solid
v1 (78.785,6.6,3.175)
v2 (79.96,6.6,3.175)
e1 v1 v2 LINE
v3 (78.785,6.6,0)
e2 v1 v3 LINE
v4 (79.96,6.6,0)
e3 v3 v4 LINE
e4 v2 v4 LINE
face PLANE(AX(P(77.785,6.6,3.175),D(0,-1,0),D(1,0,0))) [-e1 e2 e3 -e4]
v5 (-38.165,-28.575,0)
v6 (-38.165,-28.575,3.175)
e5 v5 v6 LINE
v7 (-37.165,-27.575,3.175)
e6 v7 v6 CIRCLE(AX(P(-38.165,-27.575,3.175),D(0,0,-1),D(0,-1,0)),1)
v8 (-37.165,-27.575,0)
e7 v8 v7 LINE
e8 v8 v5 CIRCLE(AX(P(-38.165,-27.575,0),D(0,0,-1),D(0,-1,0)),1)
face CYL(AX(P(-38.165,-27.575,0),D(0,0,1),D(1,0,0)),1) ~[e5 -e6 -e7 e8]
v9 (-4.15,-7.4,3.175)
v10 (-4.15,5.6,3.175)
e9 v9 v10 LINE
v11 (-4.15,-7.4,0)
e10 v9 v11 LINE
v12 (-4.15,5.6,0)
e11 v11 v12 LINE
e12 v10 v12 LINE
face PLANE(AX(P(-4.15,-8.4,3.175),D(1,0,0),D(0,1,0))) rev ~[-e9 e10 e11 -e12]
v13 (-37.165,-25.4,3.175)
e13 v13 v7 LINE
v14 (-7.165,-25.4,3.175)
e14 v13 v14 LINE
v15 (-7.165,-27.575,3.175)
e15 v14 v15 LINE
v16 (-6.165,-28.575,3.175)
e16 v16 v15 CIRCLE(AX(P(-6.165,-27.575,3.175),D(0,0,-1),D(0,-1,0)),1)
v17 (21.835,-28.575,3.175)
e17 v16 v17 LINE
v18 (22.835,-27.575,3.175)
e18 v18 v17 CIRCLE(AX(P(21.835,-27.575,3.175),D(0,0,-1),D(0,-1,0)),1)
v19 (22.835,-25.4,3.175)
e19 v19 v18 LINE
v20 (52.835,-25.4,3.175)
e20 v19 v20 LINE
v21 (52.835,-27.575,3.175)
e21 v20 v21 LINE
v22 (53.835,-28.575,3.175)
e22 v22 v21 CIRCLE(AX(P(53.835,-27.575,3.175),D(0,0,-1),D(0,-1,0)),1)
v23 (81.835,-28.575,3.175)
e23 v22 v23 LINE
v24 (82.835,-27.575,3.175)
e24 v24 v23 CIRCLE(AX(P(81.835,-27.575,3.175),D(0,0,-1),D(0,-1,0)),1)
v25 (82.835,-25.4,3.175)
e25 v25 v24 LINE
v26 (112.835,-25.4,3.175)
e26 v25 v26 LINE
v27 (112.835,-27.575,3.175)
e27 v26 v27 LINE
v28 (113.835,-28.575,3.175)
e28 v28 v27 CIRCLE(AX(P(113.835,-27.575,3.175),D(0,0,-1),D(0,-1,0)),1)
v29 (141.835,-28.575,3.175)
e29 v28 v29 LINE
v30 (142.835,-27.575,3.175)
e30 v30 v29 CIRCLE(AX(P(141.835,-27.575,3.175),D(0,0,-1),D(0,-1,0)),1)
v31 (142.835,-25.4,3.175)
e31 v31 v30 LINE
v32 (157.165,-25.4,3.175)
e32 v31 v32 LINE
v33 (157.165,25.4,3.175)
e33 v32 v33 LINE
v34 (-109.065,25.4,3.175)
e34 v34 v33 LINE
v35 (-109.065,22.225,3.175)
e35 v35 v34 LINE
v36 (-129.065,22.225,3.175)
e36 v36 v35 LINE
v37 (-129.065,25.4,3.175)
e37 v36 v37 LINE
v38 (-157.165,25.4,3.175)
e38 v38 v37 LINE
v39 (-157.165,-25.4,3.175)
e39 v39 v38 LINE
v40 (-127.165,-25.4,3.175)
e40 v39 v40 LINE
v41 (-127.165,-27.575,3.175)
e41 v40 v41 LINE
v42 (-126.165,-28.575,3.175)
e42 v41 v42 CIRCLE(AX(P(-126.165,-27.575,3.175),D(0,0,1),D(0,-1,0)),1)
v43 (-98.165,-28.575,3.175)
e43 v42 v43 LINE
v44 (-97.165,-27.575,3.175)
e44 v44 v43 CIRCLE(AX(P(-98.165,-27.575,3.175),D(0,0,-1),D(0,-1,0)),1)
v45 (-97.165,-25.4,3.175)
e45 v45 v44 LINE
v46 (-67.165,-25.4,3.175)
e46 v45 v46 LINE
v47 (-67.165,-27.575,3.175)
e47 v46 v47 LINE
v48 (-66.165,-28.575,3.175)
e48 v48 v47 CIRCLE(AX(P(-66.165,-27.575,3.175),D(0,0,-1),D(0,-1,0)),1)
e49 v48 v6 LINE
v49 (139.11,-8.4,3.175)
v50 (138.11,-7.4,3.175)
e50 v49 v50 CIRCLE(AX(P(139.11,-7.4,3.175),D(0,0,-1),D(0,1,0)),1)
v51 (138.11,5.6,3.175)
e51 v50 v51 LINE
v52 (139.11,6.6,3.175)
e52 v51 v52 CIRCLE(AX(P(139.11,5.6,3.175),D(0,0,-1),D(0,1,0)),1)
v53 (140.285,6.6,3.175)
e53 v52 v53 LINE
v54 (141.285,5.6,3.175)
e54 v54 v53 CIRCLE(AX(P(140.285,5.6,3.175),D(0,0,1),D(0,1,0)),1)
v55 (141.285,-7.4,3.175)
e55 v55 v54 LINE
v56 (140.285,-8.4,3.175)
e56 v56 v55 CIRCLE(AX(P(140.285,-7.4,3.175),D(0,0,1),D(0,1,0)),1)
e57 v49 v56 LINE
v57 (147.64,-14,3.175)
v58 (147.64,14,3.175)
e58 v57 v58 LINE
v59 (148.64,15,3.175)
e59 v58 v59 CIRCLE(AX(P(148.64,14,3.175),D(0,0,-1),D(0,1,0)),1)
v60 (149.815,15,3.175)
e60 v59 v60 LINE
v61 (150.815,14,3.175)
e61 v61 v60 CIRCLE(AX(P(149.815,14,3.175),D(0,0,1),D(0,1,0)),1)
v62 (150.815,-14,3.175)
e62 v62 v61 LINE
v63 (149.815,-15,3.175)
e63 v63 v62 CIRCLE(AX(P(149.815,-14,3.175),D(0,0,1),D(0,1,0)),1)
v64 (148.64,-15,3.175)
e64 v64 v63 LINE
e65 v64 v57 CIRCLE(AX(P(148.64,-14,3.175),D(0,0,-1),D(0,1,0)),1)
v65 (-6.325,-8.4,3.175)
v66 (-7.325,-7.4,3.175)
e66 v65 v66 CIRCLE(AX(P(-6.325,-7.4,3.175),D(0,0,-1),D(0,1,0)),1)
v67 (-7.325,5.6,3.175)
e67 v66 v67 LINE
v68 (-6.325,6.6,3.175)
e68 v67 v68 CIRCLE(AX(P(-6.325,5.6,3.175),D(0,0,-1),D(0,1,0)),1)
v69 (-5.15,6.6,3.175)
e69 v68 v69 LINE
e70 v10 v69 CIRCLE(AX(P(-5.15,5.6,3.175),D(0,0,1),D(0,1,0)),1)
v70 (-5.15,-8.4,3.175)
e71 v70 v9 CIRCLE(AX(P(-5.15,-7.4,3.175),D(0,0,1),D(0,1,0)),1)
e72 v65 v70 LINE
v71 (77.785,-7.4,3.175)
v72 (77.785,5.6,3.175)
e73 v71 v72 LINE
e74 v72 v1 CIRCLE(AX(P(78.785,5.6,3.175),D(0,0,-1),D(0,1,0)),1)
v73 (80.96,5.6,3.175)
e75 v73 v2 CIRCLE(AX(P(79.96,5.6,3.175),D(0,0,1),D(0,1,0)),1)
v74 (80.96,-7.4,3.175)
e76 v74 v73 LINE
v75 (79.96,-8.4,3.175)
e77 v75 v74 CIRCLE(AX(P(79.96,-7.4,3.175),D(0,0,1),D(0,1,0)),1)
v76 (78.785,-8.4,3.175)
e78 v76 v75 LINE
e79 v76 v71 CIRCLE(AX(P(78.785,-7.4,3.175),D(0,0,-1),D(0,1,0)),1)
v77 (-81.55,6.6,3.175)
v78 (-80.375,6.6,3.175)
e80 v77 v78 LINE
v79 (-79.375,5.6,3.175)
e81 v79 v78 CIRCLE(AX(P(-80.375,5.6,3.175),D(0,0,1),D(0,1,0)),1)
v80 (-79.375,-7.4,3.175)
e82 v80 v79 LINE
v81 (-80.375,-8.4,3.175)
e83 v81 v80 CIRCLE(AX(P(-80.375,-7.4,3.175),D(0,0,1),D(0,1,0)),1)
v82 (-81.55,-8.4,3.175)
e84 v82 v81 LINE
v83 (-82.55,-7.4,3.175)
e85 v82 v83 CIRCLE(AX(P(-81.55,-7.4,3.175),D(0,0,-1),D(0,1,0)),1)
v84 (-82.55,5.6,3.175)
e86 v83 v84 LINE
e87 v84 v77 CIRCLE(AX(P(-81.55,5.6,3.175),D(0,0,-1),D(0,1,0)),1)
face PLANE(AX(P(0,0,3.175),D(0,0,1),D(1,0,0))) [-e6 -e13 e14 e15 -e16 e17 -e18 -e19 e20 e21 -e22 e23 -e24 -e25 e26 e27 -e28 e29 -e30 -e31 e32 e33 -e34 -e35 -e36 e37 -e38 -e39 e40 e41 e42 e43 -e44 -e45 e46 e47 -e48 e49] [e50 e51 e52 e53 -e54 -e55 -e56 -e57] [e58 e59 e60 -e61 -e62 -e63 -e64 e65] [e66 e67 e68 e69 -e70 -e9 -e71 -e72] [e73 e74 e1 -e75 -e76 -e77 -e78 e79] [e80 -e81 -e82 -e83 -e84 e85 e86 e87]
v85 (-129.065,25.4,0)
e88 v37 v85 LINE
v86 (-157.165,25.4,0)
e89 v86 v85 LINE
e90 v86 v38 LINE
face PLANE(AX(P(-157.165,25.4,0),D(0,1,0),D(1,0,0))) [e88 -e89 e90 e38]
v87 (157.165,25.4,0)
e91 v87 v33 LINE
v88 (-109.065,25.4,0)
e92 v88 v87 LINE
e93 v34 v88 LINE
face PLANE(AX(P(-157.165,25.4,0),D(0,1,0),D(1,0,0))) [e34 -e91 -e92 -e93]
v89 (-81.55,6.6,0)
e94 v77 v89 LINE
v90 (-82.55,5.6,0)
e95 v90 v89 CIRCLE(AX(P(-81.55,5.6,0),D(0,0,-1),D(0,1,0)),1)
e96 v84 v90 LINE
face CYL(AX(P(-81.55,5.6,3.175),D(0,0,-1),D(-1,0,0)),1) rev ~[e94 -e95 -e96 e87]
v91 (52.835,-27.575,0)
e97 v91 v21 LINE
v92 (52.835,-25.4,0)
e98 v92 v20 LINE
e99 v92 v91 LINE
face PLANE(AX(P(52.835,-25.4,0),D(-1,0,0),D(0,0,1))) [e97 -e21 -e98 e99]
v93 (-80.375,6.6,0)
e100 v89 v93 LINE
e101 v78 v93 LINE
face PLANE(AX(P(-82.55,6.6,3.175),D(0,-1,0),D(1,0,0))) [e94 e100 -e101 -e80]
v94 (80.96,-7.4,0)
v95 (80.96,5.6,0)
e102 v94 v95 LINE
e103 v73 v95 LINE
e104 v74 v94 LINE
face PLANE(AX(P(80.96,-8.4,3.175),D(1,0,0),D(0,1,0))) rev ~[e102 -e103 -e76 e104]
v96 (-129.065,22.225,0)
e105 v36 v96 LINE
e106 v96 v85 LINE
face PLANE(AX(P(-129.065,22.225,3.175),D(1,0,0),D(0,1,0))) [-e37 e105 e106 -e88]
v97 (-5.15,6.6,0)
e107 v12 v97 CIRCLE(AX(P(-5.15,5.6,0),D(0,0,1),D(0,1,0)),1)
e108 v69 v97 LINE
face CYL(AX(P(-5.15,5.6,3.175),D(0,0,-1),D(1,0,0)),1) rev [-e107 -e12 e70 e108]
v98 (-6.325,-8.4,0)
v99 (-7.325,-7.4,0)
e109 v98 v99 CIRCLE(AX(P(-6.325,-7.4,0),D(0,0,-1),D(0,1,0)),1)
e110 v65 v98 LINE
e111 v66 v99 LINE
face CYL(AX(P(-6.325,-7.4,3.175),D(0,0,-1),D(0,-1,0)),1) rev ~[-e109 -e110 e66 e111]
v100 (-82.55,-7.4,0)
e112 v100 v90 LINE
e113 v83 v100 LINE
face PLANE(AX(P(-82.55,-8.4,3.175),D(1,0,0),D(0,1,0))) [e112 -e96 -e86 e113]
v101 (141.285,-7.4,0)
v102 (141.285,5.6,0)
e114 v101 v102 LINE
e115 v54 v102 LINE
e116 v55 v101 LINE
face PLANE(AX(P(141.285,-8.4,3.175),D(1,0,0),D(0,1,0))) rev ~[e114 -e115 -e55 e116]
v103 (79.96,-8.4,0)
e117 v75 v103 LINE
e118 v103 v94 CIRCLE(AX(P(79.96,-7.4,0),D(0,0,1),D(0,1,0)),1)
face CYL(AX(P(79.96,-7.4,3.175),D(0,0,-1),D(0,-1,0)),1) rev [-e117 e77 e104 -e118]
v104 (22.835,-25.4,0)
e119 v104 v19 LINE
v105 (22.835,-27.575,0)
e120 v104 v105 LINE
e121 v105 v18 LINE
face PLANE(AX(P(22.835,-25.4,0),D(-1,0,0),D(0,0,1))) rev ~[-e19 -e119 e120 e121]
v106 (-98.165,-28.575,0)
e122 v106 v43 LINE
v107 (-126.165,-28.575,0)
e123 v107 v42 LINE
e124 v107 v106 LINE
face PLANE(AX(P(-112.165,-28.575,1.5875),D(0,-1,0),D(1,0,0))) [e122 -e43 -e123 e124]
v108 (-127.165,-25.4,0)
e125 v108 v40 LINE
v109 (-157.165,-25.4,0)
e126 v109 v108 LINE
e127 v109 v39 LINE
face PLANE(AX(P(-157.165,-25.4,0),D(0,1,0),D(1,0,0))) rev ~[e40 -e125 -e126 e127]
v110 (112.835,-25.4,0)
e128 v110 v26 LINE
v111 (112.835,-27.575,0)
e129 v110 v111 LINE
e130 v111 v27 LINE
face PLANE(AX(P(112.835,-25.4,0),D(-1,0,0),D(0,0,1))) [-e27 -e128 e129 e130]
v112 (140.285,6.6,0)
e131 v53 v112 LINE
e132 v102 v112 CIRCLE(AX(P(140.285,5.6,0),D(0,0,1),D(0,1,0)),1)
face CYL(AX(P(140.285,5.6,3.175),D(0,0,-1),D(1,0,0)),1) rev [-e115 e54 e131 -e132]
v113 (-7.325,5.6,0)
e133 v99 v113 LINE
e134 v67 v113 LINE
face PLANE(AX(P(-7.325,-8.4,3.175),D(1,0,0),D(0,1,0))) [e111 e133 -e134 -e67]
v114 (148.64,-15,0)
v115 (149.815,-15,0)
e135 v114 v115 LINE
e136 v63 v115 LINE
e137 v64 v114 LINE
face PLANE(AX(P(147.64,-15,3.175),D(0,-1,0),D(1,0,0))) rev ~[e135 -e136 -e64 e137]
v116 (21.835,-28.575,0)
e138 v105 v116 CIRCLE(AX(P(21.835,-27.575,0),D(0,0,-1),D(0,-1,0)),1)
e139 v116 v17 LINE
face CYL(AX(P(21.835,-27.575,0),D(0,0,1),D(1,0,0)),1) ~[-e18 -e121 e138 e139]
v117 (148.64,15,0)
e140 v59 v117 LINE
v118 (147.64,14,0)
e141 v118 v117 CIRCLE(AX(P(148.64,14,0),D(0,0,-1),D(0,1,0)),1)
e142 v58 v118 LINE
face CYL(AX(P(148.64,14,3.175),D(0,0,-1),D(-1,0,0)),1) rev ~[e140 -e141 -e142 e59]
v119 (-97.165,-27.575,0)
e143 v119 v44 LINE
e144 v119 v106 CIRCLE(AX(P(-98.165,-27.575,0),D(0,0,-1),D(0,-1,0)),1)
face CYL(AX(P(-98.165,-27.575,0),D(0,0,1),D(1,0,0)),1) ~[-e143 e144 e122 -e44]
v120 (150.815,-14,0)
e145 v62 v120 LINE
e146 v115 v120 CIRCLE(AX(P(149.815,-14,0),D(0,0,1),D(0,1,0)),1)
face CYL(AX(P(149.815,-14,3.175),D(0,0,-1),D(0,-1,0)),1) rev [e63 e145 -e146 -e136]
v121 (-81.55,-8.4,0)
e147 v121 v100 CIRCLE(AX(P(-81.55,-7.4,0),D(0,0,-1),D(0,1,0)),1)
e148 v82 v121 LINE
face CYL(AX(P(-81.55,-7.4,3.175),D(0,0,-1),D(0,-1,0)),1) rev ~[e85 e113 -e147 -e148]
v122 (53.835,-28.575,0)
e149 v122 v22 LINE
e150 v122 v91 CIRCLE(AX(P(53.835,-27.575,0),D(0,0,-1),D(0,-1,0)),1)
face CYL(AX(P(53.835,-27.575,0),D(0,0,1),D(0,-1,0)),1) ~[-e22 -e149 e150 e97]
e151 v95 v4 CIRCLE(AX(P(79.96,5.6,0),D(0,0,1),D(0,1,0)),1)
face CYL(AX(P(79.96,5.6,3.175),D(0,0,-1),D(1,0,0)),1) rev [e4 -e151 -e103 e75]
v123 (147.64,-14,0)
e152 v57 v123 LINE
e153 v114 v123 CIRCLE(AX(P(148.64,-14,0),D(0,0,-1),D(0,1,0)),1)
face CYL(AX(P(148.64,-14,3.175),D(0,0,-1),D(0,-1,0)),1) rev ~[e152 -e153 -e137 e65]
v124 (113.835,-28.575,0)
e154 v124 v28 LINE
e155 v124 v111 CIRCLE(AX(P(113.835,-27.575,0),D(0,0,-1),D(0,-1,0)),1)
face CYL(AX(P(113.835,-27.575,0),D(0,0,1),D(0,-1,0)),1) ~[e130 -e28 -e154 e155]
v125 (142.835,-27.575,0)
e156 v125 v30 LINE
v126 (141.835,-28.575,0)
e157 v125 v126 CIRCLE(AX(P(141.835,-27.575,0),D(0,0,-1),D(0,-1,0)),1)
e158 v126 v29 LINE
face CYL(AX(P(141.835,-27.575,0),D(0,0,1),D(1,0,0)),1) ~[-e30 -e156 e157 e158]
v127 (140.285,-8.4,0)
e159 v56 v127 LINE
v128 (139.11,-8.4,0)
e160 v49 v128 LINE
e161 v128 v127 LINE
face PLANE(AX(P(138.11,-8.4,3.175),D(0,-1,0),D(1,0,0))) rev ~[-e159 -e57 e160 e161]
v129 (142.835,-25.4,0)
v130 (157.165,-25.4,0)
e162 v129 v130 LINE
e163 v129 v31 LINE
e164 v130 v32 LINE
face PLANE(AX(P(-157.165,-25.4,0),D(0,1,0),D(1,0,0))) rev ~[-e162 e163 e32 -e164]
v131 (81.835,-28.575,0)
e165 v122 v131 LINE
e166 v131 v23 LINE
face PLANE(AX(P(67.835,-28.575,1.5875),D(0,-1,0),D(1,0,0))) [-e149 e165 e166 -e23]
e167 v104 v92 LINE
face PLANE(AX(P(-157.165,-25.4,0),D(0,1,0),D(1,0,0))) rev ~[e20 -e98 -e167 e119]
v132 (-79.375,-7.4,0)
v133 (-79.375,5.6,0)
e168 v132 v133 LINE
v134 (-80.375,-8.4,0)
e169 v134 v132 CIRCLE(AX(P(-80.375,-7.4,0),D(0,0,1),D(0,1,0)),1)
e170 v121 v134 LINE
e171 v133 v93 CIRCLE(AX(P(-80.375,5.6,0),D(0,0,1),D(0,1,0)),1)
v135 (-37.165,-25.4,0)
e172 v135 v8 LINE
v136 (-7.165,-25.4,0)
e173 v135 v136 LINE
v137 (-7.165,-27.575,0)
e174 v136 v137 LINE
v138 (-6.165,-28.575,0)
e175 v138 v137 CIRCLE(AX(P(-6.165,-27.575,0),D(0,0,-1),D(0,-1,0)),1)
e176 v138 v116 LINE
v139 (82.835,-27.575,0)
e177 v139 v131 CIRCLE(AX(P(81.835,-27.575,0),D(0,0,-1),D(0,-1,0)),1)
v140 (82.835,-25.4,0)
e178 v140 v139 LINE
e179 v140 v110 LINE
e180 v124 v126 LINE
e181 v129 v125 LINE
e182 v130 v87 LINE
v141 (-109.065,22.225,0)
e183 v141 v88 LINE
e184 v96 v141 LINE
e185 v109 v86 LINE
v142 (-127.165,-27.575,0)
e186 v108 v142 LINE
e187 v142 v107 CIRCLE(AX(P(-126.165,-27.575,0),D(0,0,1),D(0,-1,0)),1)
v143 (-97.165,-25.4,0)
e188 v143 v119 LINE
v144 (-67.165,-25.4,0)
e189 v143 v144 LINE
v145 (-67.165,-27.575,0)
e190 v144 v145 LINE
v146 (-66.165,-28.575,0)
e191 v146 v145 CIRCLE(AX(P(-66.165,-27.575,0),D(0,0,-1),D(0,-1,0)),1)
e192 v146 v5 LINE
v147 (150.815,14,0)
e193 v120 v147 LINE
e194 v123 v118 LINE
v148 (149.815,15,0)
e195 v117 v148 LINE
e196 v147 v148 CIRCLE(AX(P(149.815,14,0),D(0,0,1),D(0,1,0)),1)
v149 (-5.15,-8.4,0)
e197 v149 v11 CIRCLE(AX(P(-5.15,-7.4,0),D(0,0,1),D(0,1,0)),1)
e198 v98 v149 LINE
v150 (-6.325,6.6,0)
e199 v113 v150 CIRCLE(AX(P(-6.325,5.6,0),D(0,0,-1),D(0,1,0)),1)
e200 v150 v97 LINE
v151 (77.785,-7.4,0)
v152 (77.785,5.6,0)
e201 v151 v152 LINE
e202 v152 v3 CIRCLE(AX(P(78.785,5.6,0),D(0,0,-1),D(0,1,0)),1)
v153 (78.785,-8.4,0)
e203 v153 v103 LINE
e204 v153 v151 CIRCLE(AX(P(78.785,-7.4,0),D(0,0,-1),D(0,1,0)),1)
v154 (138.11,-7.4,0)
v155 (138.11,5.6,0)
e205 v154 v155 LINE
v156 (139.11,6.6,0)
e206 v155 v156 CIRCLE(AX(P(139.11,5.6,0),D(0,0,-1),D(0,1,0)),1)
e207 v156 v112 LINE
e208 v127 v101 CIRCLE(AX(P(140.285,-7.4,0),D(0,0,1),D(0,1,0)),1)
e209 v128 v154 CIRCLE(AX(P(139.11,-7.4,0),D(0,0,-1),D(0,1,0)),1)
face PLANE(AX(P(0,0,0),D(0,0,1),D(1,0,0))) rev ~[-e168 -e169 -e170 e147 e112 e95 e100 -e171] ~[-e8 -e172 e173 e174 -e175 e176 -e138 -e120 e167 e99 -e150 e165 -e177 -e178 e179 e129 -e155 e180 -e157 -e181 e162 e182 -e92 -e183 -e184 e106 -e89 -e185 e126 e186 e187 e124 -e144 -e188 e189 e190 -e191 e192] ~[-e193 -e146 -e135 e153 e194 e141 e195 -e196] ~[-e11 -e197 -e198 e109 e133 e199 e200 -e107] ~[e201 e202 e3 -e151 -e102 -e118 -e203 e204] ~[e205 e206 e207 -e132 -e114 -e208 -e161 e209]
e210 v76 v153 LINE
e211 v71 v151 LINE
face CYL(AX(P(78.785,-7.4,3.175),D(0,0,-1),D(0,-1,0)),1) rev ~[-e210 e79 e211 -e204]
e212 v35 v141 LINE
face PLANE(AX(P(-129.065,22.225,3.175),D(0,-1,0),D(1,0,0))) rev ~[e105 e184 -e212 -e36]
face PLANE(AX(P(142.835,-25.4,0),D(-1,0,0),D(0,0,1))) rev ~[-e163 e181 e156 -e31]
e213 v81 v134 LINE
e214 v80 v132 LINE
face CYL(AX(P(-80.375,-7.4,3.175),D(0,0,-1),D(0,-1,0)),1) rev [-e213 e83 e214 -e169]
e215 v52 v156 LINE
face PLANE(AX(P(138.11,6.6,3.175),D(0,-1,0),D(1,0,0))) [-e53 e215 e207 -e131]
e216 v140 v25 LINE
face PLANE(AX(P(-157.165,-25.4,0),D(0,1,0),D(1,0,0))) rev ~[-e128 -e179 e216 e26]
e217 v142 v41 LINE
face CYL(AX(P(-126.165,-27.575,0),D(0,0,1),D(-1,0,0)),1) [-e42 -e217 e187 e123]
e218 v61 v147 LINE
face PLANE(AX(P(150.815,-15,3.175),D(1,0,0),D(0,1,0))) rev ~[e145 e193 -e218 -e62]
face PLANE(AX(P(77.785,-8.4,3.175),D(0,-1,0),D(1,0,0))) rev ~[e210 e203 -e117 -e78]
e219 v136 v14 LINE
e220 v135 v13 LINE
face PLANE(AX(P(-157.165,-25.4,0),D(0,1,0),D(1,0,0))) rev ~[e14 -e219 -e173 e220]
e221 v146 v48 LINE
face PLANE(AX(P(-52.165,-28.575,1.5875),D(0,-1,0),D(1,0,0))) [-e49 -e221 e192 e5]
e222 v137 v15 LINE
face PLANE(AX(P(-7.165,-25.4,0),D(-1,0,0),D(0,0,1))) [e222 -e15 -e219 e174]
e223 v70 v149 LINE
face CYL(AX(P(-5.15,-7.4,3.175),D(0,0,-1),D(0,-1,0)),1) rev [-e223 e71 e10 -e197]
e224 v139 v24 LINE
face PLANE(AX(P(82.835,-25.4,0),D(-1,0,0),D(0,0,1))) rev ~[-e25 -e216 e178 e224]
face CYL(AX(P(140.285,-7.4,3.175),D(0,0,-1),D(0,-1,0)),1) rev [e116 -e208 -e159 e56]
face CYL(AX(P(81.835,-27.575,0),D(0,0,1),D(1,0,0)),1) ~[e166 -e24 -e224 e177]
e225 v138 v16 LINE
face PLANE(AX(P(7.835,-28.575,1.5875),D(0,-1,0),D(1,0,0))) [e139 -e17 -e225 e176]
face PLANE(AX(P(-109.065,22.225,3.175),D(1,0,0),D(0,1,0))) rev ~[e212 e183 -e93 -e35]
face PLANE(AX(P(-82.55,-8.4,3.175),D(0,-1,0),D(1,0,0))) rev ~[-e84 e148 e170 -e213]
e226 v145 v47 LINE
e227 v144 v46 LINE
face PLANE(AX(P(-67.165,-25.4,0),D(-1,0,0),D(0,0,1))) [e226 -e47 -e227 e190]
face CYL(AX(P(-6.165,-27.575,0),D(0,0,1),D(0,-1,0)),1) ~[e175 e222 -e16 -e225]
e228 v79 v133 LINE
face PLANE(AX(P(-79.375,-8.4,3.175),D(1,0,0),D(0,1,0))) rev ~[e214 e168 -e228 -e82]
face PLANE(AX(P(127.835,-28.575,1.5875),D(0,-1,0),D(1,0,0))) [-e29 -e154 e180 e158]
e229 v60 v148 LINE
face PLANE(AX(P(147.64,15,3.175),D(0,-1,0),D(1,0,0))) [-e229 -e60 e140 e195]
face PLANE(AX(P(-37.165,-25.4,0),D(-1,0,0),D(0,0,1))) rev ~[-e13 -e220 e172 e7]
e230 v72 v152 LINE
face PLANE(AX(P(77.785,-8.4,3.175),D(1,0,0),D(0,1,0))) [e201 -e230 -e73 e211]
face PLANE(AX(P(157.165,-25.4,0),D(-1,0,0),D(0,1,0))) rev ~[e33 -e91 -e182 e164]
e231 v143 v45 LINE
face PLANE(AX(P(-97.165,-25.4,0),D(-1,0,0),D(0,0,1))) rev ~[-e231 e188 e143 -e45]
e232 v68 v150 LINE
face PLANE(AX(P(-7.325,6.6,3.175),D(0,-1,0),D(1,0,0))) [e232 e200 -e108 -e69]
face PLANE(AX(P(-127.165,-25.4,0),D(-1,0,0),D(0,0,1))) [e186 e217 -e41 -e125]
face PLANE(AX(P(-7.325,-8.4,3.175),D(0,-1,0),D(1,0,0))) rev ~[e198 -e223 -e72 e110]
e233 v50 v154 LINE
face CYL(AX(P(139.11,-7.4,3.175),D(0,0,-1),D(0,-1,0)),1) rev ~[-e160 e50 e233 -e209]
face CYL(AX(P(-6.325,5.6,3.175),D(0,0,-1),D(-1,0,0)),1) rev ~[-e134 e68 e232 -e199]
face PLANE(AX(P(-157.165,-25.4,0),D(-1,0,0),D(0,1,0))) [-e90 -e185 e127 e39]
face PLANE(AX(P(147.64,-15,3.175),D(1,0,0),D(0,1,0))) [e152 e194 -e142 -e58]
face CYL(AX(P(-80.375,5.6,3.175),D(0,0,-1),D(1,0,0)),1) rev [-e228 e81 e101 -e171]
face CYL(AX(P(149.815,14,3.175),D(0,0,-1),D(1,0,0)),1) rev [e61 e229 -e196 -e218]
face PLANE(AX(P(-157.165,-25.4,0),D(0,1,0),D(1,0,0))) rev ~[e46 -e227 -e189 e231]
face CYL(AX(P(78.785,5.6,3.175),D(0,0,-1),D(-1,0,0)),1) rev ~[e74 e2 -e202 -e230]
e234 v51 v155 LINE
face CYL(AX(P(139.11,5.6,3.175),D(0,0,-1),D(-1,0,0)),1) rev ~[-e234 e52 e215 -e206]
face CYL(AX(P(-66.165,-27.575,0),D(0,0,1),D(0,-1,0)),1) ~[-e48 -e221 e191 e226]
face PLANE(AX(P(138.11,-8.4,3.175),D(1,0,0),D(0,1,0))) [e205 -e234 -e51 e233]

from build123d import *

# Parameters (mm, degrees)
SKETCH1_W           = 314.33
SKETCH1_H           = 50.8
BOSS_EXTRUDE1_DEPTH = 3.175
SKETCH2_W           = 3.175
SKETCH2_H           = 15
CUT_EXTRUDE1_DEPTH  = 4.175
SKETCH3_W           = 30
SKETCH3_H           = 3.175
BOSS_EXTRUDE2_DEPTH = 3.175
SKETCH4_W           = 3.175
SKETCH4_H           = 30
SKETCH4_H_2         = 15
CUT_EXTRUDE2_DEPTH  = 4.175
SKETCH5_W           = 20
SKETCH5_H           = 3.175
CUT_EXTRUDE3_DEPTH  = 4.175
FILLET1_R           = 1


with BuildPart() as part:
    # Sketch1 → Boss-Extrude1 (new body)
    with BuildSketch(Plane.XY):
        Rectangle(SKETCH1_W, SKETCH1_H)
    extrude(amount=BOSS_EXTRUDE1_DEPTH)

    # Sketch2 → Cut-Extrude1 (cut, through all)
    with BuildSketch(Plane.XY.offset(3.175)):
        with Locations((-80.9625, -0.9)):
            Rectangle(SKETCH2_W, SKETCH2_H)
        with Locations((-5.7375, -0.9)):
            Rectangle(SKETCH2_W, SKETCH2_H)
    extrude(amount=-CUT_EXTRUDE1_DEPTH, mode=Mode.SUBTRACT)

    # Sketch3 → Boss-Extrude2 (add)
    with BuildSketch(Plane.XZ.offset(25.4)):
        with Locations((-112.165, 1.5875)):
            Rectangle(SKETCH3_W, SKETCH3_H)
        with Locations((-52.165, 1.5875)):
            Rectangle(SKETCH3_W, SKETCH3_H)
        with Locations((127.835, 1.5875)):
            Rectangle(SKETCH3_W, SKETCH3_H)
        with Locations((67.835, 1.5875)):
            Rectangle(SKETCH3_W, SKETCH3_H)
        with Locations((7.835, 1.5875)):
            Rectangle(SKETCH3_W, SKETCH3_H)
    extrude(amount=BOSS_EXTRUDE2_DEPTH)

    # Sketch4 → Cut-Extrude2 (cut, through all)
    with BuildSketch(Plane.XY.offset(3.175)):
        with Locations((149.2275, 0)):
            Rectangle(SKETCH4_W, SKETCH4_H)
        with Locations((139.6975, -0.9)):
            Rectangle(SKETCH4_W, SKETCH4_H_2)
        with Locations((79.3725, -0.9)):
            Rectangle(SKETCH4_W, SKETCH4_H_2)
    extrude(amount=-CUT_EXTRUDE2_DEPTH, mode=Mode.SUBTRACT)

    # Sketch5 → Cut-Extrude3 (cut, through all)
    with BuildSketch(Plane.XY.offset(3.175)):
        with Locations((-119.065, 23.8125)):
            Rectangle(SKETCH5_W, SKETCH5_H)
    extrude(amount=-CUT_EXTRUDE3_DEPTH, mode=Mode.SUBTRACT)

    # Fillet1
    fillet1_edges = [part.edges().sort_by_distance(p)[0] for p in [
        (22.835, -28.575, 1.5875),
        (-7.165, -28.575, 1.5875),
        (147.64, -15, 1.5875),
        (147.64, 15, 1.5875),
        (150.815, 15, 1.5875),
        (150.815, -15, 1.5875),
        (141.285, 6.6, 1.5875),
        (141.285, -8.4, 1.5875),
        (138.11, -8.4, 1.5875),
        (138.11, 6.6, 1.5875),
        (80.96, 6.6, 1.5875),
        (80.96, -8.4, 1.5875),
        (77.785, -8.4, 1.5875),
        (77.785, 6.6, 1.5875),
        (-82.55, -8.4, 1.5875),
        (-82.55, 6.6, 1.5875),
        (-79.375, 6.6, 1.5875),
        (-79.375, -8.4, 1.5875),
        (-4.15, 6.6, 1.5875),
        (-4.15, -8.4, 1.5875),
        (-7.325, -8.4, 1.5875),
        (-7.325, 6.6, 1.5875),
        (-97.165, -28.575, 1.5875),
        (-127.165, -28.575, 1.5875),
        (-37.165, -28.575, 1.5875),
        (-67.165, -28.575, 1.5875),
        (142.835, -28.575, 1.5875),
        (112.835, -28.575, 1.5875),
        (82.835, -28.575, 1.5875),
        (52.835, -28.575, 1.5875),
    ]]
    fillet(fillet1_edges, radius=FILLET1_R)


solid = part.part
